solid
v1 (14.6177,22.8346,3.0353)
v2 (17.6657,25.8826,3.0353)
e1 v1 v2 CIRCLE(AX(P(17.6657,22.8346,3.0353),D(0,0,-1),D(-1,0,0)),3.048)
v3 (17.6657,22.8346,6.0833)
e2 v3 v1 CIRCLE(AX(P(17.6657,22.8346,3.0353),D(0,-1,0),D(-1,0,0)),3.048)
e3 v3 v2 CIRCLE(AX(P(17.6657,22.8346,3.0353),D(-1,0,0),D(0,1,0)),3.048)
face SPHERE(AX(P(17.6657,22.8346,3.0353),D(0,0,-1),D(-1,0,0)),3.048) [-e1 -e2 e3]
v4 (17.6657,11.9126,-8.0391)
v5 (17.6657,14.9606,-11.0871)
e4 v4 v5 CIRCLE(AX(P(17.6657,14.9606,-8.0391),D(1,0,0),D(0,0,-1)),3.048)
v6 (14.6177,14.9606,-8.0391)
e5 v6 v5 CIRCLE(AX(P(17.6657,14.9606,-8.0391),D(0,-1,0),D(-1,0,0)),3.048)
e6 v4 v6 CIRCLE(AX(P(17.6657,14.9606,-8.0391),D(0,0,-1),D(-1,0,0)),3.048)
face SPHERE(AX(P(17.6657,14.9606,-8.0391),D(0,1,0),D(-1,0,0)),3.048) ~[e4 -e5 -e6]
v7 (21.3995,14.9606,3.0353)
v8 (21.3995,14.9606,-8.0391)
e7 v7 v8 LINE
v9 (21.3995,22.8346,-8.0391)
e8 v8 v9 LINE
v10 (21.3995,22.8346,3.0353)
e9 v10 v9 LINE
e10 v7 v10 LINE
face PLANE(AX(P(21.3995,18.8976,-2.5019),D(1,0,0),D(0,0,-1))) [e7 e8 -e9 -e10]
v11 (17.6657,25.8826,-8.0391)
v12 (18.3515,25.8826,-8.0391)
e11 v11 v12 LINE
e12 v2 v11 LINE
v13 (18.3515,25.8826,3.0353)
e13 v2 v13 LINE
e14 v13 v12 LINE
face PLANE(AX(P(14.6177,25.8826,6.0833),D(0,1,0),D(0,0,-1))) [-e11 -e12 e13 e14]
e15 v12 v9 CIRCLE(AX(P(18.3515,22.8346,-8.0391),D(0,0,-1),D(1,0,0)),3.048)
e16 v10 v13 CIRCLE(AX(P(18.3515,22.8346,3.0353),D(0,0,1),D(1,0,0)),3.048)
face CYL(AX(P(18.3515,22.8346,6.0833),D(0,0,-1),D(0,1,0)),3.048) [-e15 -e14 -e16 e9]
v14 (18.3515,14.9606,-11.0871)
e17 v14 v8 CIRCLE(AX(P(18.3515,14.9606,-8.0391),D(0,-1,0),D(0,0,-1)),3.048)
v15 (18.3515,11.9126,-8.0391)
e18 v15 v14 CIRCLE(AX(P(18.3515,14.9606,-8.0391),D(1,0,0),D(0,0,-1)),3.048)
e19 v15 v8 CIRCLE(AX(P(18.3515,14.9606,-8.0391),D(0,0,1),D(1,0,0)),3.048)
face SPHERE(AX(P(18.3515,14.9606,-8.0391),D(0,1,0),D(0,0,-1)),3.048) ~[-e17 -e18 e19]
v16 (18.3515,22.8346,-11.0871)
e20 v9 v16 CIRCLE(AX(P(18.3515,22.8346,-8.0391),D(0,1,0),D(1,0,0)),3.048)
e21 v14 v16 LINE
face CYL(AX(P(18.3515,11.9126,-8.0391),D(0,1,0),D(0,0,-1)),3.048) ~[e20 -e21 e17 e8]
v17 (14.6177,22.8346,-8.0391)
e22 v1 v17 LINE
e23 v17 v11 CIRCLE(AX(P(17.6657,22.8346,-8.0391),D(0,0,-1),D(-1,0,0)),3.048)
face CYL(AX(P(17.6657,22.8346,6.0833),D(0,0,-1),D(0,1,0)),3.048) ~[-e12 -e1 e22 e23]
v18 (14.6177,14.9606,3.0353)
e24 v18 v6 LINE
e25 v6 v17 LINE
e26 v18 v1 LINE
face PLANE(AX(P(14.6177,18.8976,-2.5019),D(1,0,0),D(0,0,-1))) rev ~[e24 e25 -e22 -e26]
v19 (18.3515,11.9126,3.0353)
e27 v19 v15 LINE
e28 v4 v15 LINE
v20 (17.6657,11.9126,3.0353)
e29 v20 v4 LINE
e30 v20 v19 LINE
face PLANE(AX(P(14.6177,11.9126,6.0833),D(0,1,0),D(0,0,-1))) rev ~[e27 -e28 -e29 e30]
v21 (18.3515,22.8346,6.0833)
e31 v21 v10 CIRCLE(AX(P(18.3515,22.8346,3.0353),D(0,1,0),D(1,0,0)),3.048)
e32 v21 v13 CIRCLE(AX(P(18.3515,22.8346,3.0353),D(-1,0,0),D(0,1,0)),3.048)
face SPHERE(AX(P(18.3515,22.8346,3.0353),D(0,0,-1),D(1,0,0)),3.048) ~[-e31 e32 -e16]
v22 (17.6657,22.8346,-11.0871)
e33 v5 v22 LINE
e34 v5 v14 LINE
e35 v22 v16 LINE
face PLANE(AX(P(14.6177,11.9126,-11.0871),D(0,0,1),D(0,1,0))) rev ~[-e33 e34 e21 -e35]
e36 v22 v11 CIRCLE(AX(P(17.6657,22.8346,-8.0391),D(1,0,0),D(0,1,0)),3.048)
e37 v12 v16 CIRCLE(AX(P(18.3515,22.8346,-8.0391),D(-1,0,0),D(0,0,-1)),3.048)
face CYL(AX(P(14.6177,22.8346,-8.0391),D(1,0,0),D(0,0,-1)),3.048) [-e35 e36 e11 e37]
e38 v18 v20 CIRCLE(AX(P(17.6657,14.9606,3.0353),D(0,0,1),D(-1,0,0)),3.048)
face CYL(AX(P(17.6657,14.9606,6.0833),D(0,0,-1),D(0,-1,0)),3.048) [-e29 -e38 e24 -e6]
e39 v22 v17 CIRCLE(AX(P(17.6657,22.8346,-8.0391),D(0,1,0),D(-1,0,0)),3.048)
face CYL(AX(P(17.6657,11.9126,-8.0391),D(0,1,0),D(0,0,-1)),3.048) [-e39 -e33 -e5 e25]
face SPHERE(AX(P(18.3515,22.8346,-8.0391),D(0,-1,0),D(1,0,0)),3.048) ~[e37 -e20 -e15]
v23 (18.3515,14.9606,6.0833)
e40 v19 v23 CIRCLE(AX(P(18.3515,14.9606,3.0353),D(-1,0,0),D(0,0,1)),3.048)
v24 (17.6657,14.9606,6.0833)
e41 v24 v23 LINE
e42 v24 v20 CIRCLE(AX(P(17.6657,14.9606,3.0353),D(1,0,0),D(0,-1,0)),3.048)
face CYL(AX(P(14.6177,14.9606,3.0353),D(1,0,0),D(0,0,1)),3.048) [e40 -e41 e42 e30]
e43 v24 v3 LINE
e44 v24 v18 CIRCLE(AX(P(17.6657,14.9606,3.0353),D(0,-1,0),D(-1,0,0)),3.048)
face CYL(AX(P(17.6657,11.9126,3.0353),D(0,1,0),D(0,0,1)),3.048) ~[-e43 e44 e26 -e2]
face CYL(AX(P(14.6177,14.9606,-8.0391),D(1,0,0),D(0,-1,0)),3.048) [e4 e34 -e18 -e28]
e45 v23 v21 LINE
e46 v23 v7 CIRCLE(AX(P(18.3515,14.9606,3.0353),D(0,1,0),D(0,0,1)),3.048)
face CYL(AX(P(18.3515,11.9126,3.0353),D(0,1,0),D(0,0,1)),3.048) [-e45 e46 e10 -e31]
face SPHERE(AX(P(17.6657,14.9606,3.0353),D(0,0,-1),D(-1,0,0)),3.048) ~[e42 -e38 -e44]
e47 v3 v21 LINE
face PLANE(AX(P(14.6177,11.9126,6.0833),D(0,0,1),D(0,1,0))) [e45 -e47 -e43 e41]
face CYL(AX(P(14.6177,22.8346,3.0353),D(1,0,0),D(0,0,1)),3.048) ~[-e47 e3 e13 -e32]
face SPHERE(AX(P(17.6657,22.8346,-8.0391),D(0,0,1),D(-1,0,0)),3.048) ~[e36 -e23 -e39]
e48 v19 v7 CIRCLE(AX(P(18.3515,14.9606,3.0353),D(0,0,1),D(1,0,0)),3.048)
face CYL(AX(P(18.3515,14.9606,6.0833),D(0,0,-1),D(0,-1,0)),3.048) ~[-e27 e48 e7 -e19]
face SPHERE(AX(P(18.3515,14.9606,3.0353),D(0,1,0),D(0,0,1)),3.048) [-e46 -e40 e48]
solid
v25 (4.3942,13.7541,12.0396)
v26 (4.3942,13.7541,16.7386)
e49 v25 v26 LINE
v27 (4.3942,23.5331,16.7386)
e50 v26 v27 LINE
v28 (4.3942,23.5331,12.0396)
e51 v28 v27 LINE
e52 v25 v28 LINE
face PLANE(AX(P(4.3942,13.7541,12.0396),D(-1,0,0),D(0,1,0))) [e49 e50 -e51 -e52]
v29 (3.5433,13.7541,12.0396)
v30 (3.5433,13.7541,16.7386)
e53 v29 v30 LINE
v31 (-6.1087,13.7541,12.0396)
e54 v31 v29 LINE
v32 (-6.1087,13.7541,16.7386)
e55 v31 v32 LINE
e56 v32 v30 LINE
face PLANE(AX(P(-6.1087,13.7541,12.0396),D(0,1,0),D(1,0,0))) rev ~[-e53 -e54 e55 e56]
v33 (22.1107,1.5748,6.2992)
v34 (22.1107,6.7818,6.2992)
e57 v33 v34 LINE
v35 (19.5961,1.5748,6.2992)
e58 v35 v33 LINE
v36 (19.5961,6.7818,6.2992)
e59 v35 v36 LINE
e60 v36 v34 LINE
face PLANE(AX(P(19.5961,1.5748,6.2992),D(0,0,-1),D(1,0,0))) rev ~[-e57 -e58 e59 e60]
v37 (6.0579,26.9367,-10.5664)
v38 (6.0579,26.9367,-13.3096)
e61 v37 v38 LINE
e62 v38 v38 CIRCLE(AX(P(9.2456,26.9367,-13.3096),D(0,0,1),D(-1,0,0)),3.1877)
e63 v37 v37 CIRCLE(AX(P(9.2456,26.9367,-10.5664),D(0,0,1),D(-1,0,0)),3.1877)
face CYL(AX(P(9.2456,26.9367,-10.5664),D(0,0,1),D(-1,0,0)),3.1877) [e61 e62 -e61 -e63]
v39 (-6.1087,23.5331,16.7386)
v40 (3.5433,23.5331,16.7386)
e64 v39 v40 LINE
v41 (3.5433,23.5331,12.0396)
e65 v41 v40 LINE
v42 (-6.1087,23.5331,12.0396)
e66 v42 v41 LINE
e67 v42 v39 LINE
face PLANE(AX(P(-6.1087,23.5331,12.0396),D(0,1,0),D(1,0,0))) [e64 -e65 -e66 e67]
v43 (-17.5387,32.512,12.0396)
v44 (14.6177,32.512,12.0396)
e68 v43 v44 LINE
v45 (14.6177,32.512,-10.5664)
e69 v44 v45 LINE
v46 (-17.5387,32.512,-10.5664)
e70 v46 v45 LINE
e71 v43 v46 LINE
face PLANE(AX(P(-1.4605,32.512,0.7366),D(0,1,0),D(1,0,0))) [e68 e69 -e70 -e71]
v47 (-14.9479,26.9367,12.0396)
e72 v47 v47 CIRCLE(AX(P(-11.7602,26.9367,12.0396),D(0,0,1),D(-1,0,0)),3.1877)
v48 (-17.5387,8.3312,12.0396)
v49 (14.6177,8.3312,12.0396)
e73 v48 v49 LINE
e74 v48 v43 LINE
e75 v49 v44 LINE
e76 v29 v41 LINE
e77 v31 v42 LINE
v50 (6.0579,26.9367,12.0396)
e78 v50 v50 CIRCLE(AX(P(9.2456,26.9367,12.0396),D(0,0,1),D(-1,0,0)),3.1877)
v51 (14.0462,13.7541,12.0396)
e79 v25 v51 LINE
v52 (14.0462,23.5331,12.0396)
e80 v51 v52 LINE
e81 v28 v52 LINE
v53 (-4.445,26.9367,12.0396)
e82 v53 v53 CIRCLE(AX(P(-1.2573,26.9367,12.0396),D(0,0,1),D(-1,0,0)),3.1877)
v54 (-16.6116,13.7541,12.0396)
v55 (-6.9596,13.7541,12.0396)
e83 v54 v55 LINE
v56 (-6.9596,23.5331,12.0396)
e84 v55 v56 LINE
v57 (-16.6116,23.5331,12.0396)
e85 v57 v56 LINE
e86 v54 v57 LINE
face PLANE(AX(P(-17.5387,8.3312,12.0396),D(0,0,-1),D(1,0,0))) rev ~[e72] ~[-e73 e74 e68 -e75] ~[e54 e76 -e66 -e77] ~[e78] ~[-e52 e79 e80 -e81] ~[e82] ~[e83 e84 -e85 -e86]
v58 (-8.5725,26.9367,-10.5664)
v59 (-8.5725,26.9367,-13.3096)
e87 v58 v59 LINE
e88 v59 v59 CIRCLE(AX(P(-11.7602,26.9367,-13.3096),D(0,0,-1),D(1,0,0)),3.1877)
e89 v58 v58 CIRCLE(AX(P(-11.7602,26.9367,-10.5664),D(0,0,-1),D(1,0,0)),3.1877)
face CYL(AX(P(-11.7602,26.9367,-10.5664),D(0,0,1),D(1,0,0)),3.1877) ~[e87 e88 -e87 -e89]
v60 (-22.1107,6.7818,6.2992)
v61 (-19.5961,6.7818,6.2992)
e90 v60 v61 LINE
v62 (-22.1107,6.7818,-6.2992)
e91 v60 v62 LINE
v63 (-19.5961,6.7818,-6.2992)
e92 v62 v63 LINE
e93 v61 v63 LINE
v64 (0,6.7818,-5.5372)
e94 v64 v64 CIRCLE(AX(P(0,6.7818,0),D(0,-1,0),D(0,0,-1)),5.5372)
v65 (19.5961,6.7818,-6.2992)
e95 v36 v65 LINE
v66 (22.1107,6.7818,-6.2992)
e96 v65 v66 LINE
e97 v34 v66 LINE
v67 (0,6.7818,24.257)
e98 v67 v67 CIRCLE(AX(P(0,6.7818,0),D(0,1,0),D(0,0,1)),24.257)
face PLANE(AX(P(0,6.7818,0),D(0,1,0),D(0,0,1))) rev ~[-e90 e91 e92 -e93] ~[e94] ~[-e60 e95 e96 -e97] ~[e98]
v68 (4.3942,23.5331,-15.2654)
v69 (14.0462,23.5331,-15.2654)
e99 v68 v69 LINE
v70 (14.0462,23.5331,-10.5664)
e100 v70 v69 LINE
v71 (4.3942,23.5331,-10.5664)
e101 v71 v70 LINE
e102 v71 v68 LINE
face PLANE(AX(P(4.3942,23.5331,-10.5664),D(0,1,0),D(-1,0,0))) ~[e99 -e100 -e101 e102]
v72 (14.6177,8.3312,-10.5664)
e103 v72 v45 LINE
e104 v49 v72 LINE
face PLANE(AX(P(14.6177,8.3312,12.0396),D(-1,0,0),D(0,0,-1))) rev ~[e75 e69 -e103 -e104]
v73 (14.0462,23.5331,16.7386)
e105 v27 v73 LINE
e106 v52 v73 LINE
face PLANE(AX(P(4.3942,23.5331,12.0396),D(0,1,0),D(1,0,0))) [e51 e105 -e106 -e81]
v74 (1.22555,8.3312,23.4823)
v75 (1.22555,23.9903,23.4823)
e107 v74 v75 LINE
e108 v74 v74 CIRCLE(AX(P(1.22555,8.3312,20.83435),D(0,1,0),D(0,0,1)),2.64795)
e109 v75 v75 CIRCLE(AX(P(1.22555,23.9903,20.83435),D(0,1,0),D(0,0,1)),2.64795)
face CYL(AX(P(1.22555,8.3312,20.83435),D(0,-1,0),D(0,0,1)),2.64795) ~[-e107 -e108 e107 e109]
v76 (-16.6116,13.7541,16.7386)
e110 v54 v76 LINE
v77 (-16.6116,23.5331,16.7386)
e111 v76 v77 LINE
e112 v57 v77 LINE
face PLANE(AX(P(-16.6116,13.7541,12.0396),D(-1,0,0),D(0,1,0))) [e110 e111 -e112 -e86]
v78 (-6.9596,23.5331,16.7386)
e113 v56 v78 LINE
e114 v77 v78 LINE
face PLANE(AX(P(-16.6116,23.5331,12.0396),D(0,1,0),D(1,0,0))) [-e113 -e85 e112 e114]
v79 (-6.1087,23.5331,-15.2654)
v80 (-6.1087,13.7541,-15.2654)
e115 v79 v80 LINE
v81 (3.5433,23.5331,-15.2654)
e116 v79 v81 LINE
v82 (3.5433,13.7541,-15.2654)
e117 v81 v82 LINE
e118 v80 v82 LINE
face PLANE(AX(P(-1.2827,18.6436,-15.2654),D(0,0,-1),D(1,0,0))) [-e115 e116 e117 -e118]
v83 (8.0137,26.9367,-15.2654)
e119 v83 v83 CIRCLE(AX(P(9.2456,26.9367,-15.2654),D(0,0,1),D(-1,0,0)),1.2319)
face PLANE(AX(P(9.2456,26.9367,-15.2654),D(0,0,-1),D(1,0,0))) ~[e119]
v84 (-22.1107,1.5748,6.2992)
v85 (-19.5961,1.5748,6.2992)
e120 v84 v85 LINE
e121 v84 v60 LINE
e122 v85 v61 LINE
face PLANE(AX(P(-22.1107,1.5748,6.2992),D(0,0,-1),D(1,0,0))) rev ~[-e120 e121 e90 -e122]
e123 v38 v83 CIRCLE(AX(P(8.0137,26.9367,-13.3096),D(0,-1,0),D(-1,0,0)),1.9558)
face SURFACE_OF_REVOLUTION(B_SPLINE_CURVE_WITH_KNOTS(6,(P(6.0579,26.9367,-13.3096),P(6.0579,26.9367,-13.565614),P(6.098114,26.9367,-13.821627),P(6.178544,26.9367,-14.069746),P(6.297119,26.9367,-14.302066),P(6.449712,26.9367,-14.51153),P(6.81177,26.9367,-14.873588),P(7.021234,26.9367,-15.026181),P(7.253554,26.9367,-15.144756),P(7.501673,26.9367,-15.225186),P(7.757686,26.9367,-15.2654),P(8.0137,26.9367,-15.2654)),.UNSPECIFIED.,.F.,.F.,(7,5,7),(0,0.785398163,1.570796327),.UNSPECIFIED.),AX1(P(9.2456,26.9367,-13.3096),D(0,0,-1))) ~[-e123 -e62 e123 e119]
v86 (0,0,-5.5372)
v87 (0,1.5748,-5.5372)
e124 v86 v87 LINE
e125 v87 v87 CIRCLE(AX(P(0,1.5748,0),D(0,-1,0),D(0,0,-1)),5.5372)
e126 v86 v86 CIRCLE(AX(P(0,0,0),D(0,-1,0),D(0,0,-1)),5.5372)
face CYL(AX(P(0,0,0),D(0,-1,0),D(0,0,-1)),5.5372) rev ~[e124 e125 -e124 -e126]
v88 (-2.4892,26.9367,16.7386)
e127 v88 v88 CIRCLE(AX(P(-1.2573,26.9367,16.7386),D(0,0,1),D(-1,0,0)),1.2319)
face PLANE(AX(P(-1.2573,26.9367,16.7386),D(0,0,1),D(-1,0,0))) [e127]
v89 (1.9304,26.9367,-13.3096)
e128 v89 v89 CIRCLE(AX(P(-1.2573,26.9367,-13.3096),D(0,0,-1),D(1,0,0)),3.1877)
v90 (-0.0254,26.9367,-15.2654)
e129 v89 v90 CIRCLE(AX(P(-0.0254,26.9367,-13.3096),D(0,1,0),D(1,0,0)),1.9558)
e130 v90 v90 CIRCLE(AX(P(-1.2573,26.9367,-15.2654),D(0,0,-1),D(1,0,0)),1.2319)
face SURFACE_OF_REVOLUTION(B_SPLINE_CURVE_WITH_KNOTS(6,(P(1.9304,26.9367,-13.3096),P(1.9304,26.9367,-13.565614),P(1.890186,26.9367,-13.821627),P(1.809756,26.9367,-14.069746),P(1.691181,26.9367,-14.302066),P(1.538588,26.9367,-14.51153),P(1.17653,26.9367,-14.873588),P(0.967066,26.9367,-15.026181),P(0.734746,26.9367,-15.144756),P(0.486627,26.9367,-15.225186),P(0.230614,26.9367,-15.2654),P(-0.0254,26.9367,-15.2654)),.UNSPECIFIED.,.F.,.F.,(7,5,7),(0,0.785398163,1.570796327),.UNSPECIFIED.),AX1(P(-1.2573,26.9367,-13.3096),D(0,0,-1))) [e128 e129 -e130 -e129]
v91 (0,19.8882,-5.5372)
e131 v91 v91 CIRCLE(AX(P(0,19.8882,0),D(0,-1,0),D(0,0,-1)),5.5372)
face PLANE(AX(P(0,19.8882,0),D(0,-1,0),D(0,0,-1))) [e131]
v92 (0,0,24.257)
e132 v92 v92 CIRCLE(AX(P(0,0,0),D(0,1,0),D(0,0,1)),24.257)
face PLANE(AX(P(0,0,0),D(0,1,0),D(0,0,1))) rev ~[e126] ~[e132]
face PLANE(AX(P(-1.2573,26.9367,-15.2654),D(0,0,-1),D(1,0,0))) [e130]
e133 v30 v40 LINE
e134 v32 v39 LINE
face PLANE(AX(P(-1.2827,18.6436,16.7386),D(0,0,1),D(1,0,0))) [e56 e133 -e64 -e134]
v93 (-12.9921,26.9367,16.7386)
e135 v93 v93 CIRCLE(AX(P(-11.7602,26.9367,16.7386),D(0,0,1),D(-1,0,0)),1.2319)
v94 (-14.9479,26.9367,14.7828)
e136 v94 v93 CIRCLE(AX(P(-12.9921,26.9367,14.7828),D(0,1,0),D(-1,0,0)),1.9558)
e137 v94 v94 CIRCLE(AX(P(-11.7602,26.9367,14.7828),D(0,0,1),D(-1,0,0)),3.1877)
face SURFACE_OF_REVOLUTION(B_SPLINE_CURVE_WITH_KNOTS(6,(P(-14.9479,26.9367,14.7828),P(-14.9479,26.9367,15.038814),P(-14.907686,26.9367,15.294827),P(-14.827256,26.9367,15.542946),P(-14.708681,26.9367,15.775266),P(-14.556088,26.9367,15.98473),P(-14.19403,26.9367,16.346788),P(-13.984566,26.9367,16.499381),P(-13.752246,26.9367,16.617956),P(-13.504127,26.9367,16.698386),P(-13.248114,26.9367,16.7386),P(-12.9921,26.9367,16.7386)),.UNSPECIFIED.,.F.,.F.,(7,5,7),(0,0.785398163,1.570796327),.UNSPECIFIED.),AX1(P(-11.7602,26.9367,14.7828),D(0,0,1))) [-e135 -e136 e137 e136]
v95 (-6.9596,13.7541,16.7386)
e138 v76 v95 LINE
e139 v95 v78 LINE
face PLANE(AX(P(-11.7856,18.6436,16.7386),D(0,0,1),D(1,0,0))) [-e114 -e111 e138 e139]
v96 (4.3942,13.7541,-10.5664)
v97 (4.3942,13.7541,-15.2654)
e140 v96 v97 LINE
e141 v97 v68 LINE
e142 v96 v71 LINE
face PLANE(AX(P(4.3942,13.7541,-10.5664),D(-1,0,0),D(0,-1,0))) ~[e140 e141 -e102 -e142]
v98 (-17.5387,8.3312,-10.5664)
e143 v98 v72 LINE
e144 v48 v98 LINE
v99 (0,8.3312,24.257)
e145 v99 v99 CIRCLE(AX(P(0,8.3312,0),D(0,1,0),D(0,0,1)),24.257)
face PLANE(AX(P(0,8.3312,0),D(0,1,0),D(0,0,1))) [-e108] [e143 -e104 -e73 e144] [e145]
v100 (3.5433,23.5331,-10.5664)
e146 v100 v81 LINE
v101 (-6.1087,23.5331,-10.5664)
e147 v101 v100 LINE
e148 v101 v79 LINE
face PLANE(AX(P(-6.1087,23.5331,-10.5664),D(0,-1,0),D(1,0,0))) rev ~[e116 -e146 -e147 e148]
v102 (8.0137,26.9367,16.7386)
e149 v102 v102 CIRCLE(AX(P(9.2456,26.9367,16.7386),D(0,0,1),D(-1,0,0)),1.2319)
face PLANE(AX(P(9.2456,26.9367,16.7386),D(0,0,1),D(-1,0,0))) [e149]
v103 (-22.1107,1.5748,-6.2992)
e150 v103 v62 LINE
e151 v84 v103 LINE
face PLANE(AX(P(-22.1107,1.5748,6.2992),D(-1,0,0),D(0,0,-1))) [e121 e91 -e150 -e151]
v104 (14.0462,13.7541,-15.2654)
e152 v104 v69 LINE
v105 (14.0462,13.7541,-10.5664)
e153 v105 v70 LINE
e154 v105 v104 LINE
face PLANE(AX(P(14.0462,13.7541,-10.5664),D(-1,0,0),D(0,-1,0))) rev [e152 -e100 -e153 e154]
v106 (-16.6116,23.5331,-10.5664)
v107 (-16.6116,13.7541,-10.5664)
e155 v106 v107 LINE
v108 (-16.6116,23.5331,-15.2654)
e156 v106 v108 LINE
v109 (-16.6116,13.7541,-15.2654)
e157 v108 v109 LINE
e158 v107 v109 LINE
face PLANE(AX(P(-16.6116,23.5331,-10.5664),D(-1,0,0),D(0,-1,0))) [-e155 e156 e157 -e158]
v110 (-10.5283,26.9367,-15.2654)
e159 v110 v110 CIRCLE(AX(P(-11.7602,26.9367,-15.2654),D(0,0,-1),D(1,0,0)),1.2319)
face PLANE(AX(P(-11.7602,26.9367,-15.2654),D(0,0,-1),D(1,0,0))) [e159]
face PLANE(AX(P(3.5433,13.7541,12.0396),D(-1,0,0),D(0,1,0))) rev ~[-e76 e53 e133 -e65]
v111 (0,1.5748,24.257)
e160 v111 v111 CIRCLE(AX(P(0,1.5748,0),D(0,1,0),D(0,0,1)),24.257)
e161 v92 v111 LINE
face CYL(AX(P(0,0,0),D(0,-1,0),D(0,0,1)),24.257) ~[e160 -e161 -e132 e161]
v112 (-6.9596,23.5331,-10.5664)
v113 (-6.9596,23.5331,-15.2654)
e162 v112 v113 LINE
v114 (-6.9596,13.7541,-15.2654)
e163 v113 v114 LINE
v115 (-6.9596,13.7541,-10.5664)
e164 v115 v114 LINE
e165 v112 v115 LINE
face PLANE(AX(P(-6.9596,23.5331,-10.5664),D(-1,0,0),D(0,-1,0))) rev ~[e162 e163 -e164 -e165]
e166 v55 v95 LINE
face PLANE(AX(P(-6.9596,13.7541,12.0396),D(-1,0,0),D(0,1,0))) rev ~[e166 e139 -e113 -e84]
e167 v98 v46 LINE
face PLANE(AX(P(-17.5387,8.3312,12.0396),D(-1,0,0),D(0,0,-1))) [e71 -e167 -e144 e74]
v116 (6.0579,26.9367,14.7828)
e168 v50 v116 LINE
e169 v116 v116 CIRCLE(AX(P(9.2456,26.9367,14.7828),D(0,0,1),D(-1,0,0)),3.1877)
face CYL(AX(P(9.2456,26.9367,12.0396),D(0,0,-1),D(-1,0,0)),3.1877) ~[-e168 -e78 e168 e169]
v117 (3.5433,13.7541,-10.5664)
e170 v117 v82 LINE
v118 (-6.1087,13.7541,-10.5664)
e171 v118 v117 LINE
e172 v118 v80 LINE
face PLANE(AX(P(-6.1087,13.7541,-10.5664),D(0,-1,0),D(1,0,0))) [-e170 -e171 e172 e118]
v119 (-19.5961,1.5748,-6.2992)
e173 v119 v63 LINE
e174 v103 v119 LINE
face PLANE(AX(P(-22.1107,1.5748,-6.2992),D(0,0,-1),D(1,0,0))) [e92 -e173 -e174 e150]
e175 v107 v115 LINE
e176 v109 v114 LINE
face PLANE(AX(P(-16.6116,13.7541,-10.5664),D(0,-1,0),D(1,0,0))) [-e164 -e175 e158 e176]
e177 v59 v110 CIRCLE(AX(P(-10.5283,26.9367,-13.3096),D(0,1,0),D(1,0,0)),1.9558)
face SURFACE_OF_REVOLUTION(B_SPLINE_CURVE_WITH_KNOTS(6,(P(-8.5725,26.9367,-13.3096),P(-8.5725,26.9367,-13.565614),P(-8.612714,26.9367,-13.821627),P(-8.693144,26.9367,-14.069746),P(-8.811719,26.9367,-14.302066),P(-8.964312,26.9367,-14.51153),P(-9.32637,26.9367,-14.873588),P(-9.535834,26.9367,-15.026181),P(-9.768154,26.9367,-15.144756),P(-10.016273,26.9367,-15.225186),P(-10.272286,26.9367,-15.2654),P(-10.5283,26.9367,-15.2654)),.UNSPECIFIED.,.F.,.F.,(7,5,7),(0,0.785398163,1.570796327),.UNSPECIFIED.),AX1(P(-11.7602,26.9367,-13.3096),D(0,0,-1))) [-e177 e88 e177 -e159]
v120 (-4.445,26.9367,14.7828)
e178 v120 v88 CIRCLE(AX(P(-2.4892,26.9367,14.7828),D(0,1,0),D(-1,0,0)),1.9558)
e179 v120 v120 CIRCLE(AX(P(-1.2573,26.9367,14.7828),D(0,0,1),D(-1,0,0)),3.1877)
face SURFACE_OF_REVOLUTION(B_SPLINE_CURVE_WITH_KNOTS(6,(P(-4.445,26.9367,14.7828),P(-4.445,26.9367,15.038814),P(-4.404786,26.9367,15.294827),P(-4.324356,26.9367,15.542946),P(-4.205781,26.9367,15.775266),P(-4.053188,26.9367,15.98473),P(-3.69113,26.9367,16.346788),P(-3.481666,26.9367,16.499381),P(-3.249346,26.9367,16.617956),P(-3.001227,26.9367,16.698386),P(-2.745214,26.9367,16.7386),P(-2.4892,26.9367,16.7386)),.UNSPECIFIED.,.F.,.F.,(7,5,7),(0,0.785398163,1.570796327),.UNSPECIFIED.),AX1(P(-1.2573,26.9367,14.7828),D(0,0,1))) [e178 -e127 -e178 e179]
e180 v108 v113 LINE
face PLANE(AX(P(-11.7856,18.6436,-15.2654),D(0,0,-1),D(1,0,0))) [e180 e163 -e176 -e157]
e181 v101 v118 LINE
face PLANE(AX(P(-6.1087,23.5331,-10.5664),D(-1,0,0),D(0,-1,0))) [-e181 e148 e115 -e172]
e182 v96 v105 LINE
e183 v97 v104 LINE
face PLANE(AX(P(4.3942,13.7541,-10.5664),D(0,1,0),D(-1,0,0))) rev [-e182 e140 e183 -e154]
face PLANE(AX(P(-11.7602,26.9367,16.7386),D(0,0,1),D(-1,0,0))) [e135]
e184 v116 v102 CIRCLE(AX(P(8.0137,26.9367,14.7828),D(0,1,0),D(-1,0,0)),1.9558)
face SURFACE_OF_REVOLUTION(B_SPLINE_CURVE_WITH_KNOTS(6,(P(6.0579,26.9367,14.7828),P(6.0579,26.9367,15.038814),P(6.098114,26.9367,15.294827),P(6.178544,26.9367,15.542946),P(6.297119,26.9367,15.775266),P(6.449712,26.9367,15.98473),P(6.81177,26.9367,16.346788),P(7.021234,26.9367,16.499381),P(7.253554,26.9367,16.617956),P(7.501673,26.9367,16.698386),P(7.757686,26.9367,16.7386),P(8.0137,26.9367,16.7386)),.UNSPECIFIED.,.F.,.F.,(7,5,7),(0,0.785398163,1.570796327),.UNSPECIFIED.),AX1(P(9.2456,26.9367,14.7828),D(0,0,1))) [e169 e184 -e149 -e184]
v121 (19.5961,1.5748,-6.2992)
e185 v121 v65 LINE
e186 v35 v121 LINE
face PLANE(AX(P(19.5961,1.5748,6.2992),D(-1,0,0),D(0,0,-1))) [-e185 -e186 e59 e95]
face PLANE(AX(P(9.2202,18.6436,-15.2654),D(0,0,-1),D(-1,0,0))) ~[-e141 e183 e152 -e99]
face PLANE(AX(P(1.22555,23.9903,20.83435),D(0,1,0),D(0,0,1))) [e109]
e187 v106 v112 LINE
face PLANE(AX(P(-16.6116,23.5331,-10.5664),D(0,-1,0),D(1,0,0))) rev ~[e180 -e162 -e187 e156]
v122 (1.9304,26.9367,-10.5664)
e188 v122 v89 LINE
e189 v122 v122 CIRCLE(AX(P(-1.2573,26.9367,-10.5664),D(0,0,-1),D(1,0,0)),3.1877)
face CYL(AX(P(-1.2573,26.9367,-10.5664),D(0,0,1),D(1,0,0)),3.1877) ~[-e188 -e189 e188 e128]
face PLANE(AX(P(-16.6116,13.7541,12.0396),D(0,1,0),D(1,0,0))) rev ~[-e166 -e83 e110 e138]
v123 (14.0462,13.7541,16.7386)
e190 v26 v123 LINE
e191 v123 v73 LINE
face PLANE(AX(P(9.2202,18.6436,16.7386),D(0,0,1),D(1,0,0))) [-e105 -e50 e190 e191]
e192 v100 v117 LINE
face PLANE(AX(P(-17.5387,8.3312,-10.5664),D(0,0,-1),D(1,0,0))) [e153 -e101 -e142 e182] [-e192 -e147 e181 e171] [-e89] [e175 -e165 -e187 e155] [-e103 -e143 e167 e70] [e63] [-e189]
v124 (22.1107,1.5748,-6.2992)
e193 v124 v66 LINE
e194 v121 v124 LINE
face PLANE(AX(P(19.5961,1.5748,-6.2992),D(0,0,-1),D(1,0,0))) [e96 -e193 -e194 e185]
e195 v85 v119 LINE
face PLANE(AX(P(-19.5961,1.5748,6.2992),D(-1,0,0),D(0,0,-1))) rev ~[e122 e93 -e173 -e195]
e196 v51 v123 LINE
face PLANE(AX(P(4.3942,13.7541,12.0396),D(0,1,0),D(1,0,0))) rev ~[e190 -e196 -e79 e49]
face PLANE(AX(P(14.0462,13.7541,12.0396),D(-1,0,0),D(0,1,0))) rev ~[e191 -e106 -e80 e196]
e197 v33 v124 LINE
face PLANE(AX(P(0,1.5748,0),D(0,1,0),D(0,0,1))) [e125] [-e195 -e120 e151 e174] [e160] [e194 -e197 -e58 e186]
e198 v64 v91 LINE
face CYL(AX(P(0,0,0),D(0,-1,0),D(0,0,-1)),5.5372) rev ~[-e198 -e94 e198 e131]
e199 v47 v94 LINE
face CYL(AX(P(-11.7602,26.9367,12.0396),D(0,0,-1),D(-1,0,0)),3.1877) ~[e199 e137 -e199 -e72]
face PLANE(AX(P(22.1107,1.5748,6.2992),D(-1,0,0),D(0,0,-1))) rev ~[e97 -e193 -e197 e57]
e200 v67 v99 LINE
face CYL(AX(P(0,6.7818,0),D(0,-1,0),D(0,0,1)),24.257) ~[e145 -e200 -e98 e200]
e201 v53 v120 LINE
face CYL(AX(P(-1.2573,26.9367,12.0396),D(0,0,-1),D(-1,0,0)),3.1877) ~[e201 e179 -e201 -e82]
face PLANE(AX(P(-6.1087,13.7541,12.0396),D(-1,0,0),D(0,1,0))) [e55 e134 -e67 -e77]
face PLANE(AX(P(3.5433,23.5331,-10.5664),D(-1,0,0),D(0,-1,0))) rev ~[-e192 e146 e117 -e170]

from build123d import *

# Parameters (mm, degrees)
SKETCH1_R               = 24.257
BOSS_EXTRUDE1_DEPTH     = 1.5748
SKETCH2_W               = 2.5146
SKETCH2_H               = 12.5984
BOSS_EXTRUDE2_DEPTH     = 5.207
SKETCH3_R               = 24.257
BOSS_EXTRUDE3_DEPTH     = 1.5494
SKETCH4_W               = 32.1564
SKETCH4_H               = 22.606
BOSS_EXTRUDE4_DEPTH     = 24.1808
SKETCH5_R               = 3.1877
SKETCH5_W               = 9.652
SKETCH5_H               = 9.779
BOSS_EXTRUDE5_DEPTH     = 4.699
LPATTERN1_COUNT         = 3
LPATTERN1_PITCH         = 10.5029
MIRROR1_COPY_1_SKETCH_R = 3.1877
MIRROR1_COPY_1_SKETCH_W = 9.652
MIRROR1_COPY_1_SKETCH_H = 9.779
MIRROR1_COPY_1_DEPTH    = 4.699
MIRROR1_COPY_2_SKETCH_R = 3.1877
MIRROR1_COPY_2_SKETCH_W = 9.652
MIRROR1_COPY_2_SKETCH_H = 9.779
MIRROR1_COPY_2_DEPTH    = 4.699
FILLET1_R               = 1.9558
SKETCH6_R               = 2.64795
BOSS_EXTRUDE6_DEPTH     = 15.6591
SKETCH7_W               = 17.1704
SKETCH7_H               = 13.97
BOSS_EXTRUDE7_DEPTH     = 6.7818
FILLET2_R               = 3.048
SKETCH9_R               = 5.5372
CUT_EXTRUDE1_DEPTH      = 19.8882


with BuildPart() as part:
    # Sketch1 → Boss-Extrude1 (new body)
    with BuildSketch(Plane(origin=(0, 0, 0), x_dir=(1, 0, 0), z_dir=(0, 1, 0))):
        with Locations(Location((0, 0, 0), (0, 0, 270))):
            Circle(SKETCH1_R)
    extrude(amount=BOSS_EXTRUDE1_DEPTH)

    # Sketch2 → Boss-Extrude2 (add)
    with BuildSketch(Plane(origin=(0, 1.5748, 0), x_dir=(1, 0, 0), z_dir=(0, 1, 0))):
        with Locations((-20.8534, 0)):
            Rectangle(SKETCH2_W, SKETCH2_H)
        with Locations((20.8534, 0)):
            Rectangle(SKETCH2_W, SKETCH2_H)
    extrude(amount=BOSS_EXTRUDE2_DEPTH)

    # Sketch3 → Boss-Extrude3 (add)
    with BuildSketch(Plane(origin=(0, 6.7818, 0), x_dir=(1, 0, 0), z_dir=(0, 1, 0))):
        with Locations(Location((0, 0, 0), (0, 0, 270))):
            Circle(SKETCH3_R)
    extrude(amount=BOSS_EXTRUDE3_DEPTH)

    # Sketch4 → Boss-Extrude4 (add)
    with BuildSketch(Plane(origin=(0, 8.3312, 0), x_dir=(1, 0, 0), z_dir=(0, 1, 0))):
        with Locations((-1.4605, -0.7366)):
            Rectangle(SKETCH4_W, SKETCH4_H)
    extrude(amount=BOSS_EXTRUDE4_DEPTH)

    # Sketch5 → Boss-Extrude5 (add)
    with BuildSketch(Plane.XY.offset(12.0396)):
        with Locations(Location((9.2456, 26.9367, 0), (0, 0, 180))):
            Circle(SKETCH5_R)
        with Locations((9.2202, 18.6436)):
            Rectangle(SKETCH5_W, SKETCH5_H)
    boss_extrude5 = extrude(amount=BOSS_EXTRUDE5_DEPTH)

    # LPattern1: Boss-Extrude5 ×3
    with Locations(*[(-i * LPATTERN1_PITCH, 0, 0) for i in range(1, LPATTERN1_COUNT)]):
        add(boss_extrude5)

    # Mirror1: Boss-Extrude5 across plane
    add(boss_extrude5.mirror(Plane.XY.offset(0.7366)))

    # Mirror1 copy 1 sketch → Mirror1 copy 1 (add)
    with BuildSketch(Plane(origin=(-10.5029, 0, -10.5664), x_dir=(1, 0, 0), z_dir=(0, 0, -1))):
        with Locations((9.2456, -26.9367)):
            Circle(MIRROR1_COPY_1_SKETCH_R)
        with Locations((9.2202, -18.6436)):
            Rectangle(MIRROR1_COPY_1_SKETCH_W, MIRROR1_COPY_1_SKETCH_H)
    extrude(amount=MIRROR1_COPY_1_DEPTH)

    # Mirror1 copy 2 sketch → Mirror1 copy 2 (add)
    with BuildSketch(Plane(origin=(-21.0058, 0, -10.5664), x_dir=(1, 0, 0), z_dir=(0, 0, -1))):
        with Locations((9.2456, -26.9367)):
            Circle(MIRROR1_COPY_2_SKETCH_R)
        with Locations((9.2202, -18.6436)):
            Rectangle(MIRROR1_COPY_2_SKETCH_W, MIRROR1_COPY_2_SKETCH_H)
    extrude(amount=MIRROR1_COPY_2_DEPTH)

    # Fillet1
    fillet1_edges = [part.edges().sort_by_distance(p)[0] for p in [
        (12.4333, 26.9367, -15.2654),
        (-4.445, 26.9367, -15.2654),
        (-14.9479, 26.9367, -15.2654),
        (12.4333, 26.9367, 16.7386),
        (1.9304, 26.9367, 16.7386),
        (-8.5725, 26.9367, 16.7386),
    ]]
    fillet(fillet1_edges, radius=FILLET1_R)

    # Sketch6 → Boss-Extrude6 (add)
    with BuildSketch(Plane(origin=(0, 8.3312, 0), x_dir=(1, 0, 0), z_dir=(0, 1, 0))):
        with Locations(Location((1.22555, -20.83435, 0), (0, 0, 270))):
            Circle(SKETCH6_R)
    extrude(amount=BOSS_EXTRUDE6_DEPTH)

    # Sketch9 → Cut-Extrude1 (cut)
    with BuildSketch(Plane.XZ):
        with Locations(Location((0, 0, 0), (0, 0, 270))):
            Circle(SKETCH9_R)
    extrude(amount=-CUT_EXTRUDE1_DEPTH, mode=Mode.SUBTRACT)


with BuildPart() as body_2:
    # Sketch7 → Boss-Extrude7 (new body)
    with BuildSketch(Plane(origin=(14.6177, 0, 0), x_dir=(0, 0, -1), z_dir=(1, 0, 0))):
        with Locations((2.5019, 18.8976)):
            Rectangle(SKETCH7_W, SKETCH7_H)
    extrude(amount=BOSS_EXTRUDE7_DEPTH)

    # Fillet2
    fillet2_edges = [body_2.edges().sort_by_distance(p)[0] for p in [
        (21.3995, 18.8976, -11.0871),
        (21.3995, 25.8826, -2.5019),
        (21.3995, 18.8976, 6.0833),
        (14.6177, 25.8826, -2.5019),
        (14.6177, 18.8976, -11.0871),
        (14.6177, 11.9126, -2.5019),
        (14.6177, 18.8976, 6.0833),
        (18.0086, 25.8826, 6.0833),
        (18.0086, 25.8826, -11.0871),
        (18.0086, 11.9126, -11.0871),
        (18.0086, 11.9126, 6.0833),
        (21.3995, 11.9126, -2.5019),
    ]]
    fillet(fillet2_edges, radius=FILLET2_R)


solid = Compound([part.part, body_2.part])
